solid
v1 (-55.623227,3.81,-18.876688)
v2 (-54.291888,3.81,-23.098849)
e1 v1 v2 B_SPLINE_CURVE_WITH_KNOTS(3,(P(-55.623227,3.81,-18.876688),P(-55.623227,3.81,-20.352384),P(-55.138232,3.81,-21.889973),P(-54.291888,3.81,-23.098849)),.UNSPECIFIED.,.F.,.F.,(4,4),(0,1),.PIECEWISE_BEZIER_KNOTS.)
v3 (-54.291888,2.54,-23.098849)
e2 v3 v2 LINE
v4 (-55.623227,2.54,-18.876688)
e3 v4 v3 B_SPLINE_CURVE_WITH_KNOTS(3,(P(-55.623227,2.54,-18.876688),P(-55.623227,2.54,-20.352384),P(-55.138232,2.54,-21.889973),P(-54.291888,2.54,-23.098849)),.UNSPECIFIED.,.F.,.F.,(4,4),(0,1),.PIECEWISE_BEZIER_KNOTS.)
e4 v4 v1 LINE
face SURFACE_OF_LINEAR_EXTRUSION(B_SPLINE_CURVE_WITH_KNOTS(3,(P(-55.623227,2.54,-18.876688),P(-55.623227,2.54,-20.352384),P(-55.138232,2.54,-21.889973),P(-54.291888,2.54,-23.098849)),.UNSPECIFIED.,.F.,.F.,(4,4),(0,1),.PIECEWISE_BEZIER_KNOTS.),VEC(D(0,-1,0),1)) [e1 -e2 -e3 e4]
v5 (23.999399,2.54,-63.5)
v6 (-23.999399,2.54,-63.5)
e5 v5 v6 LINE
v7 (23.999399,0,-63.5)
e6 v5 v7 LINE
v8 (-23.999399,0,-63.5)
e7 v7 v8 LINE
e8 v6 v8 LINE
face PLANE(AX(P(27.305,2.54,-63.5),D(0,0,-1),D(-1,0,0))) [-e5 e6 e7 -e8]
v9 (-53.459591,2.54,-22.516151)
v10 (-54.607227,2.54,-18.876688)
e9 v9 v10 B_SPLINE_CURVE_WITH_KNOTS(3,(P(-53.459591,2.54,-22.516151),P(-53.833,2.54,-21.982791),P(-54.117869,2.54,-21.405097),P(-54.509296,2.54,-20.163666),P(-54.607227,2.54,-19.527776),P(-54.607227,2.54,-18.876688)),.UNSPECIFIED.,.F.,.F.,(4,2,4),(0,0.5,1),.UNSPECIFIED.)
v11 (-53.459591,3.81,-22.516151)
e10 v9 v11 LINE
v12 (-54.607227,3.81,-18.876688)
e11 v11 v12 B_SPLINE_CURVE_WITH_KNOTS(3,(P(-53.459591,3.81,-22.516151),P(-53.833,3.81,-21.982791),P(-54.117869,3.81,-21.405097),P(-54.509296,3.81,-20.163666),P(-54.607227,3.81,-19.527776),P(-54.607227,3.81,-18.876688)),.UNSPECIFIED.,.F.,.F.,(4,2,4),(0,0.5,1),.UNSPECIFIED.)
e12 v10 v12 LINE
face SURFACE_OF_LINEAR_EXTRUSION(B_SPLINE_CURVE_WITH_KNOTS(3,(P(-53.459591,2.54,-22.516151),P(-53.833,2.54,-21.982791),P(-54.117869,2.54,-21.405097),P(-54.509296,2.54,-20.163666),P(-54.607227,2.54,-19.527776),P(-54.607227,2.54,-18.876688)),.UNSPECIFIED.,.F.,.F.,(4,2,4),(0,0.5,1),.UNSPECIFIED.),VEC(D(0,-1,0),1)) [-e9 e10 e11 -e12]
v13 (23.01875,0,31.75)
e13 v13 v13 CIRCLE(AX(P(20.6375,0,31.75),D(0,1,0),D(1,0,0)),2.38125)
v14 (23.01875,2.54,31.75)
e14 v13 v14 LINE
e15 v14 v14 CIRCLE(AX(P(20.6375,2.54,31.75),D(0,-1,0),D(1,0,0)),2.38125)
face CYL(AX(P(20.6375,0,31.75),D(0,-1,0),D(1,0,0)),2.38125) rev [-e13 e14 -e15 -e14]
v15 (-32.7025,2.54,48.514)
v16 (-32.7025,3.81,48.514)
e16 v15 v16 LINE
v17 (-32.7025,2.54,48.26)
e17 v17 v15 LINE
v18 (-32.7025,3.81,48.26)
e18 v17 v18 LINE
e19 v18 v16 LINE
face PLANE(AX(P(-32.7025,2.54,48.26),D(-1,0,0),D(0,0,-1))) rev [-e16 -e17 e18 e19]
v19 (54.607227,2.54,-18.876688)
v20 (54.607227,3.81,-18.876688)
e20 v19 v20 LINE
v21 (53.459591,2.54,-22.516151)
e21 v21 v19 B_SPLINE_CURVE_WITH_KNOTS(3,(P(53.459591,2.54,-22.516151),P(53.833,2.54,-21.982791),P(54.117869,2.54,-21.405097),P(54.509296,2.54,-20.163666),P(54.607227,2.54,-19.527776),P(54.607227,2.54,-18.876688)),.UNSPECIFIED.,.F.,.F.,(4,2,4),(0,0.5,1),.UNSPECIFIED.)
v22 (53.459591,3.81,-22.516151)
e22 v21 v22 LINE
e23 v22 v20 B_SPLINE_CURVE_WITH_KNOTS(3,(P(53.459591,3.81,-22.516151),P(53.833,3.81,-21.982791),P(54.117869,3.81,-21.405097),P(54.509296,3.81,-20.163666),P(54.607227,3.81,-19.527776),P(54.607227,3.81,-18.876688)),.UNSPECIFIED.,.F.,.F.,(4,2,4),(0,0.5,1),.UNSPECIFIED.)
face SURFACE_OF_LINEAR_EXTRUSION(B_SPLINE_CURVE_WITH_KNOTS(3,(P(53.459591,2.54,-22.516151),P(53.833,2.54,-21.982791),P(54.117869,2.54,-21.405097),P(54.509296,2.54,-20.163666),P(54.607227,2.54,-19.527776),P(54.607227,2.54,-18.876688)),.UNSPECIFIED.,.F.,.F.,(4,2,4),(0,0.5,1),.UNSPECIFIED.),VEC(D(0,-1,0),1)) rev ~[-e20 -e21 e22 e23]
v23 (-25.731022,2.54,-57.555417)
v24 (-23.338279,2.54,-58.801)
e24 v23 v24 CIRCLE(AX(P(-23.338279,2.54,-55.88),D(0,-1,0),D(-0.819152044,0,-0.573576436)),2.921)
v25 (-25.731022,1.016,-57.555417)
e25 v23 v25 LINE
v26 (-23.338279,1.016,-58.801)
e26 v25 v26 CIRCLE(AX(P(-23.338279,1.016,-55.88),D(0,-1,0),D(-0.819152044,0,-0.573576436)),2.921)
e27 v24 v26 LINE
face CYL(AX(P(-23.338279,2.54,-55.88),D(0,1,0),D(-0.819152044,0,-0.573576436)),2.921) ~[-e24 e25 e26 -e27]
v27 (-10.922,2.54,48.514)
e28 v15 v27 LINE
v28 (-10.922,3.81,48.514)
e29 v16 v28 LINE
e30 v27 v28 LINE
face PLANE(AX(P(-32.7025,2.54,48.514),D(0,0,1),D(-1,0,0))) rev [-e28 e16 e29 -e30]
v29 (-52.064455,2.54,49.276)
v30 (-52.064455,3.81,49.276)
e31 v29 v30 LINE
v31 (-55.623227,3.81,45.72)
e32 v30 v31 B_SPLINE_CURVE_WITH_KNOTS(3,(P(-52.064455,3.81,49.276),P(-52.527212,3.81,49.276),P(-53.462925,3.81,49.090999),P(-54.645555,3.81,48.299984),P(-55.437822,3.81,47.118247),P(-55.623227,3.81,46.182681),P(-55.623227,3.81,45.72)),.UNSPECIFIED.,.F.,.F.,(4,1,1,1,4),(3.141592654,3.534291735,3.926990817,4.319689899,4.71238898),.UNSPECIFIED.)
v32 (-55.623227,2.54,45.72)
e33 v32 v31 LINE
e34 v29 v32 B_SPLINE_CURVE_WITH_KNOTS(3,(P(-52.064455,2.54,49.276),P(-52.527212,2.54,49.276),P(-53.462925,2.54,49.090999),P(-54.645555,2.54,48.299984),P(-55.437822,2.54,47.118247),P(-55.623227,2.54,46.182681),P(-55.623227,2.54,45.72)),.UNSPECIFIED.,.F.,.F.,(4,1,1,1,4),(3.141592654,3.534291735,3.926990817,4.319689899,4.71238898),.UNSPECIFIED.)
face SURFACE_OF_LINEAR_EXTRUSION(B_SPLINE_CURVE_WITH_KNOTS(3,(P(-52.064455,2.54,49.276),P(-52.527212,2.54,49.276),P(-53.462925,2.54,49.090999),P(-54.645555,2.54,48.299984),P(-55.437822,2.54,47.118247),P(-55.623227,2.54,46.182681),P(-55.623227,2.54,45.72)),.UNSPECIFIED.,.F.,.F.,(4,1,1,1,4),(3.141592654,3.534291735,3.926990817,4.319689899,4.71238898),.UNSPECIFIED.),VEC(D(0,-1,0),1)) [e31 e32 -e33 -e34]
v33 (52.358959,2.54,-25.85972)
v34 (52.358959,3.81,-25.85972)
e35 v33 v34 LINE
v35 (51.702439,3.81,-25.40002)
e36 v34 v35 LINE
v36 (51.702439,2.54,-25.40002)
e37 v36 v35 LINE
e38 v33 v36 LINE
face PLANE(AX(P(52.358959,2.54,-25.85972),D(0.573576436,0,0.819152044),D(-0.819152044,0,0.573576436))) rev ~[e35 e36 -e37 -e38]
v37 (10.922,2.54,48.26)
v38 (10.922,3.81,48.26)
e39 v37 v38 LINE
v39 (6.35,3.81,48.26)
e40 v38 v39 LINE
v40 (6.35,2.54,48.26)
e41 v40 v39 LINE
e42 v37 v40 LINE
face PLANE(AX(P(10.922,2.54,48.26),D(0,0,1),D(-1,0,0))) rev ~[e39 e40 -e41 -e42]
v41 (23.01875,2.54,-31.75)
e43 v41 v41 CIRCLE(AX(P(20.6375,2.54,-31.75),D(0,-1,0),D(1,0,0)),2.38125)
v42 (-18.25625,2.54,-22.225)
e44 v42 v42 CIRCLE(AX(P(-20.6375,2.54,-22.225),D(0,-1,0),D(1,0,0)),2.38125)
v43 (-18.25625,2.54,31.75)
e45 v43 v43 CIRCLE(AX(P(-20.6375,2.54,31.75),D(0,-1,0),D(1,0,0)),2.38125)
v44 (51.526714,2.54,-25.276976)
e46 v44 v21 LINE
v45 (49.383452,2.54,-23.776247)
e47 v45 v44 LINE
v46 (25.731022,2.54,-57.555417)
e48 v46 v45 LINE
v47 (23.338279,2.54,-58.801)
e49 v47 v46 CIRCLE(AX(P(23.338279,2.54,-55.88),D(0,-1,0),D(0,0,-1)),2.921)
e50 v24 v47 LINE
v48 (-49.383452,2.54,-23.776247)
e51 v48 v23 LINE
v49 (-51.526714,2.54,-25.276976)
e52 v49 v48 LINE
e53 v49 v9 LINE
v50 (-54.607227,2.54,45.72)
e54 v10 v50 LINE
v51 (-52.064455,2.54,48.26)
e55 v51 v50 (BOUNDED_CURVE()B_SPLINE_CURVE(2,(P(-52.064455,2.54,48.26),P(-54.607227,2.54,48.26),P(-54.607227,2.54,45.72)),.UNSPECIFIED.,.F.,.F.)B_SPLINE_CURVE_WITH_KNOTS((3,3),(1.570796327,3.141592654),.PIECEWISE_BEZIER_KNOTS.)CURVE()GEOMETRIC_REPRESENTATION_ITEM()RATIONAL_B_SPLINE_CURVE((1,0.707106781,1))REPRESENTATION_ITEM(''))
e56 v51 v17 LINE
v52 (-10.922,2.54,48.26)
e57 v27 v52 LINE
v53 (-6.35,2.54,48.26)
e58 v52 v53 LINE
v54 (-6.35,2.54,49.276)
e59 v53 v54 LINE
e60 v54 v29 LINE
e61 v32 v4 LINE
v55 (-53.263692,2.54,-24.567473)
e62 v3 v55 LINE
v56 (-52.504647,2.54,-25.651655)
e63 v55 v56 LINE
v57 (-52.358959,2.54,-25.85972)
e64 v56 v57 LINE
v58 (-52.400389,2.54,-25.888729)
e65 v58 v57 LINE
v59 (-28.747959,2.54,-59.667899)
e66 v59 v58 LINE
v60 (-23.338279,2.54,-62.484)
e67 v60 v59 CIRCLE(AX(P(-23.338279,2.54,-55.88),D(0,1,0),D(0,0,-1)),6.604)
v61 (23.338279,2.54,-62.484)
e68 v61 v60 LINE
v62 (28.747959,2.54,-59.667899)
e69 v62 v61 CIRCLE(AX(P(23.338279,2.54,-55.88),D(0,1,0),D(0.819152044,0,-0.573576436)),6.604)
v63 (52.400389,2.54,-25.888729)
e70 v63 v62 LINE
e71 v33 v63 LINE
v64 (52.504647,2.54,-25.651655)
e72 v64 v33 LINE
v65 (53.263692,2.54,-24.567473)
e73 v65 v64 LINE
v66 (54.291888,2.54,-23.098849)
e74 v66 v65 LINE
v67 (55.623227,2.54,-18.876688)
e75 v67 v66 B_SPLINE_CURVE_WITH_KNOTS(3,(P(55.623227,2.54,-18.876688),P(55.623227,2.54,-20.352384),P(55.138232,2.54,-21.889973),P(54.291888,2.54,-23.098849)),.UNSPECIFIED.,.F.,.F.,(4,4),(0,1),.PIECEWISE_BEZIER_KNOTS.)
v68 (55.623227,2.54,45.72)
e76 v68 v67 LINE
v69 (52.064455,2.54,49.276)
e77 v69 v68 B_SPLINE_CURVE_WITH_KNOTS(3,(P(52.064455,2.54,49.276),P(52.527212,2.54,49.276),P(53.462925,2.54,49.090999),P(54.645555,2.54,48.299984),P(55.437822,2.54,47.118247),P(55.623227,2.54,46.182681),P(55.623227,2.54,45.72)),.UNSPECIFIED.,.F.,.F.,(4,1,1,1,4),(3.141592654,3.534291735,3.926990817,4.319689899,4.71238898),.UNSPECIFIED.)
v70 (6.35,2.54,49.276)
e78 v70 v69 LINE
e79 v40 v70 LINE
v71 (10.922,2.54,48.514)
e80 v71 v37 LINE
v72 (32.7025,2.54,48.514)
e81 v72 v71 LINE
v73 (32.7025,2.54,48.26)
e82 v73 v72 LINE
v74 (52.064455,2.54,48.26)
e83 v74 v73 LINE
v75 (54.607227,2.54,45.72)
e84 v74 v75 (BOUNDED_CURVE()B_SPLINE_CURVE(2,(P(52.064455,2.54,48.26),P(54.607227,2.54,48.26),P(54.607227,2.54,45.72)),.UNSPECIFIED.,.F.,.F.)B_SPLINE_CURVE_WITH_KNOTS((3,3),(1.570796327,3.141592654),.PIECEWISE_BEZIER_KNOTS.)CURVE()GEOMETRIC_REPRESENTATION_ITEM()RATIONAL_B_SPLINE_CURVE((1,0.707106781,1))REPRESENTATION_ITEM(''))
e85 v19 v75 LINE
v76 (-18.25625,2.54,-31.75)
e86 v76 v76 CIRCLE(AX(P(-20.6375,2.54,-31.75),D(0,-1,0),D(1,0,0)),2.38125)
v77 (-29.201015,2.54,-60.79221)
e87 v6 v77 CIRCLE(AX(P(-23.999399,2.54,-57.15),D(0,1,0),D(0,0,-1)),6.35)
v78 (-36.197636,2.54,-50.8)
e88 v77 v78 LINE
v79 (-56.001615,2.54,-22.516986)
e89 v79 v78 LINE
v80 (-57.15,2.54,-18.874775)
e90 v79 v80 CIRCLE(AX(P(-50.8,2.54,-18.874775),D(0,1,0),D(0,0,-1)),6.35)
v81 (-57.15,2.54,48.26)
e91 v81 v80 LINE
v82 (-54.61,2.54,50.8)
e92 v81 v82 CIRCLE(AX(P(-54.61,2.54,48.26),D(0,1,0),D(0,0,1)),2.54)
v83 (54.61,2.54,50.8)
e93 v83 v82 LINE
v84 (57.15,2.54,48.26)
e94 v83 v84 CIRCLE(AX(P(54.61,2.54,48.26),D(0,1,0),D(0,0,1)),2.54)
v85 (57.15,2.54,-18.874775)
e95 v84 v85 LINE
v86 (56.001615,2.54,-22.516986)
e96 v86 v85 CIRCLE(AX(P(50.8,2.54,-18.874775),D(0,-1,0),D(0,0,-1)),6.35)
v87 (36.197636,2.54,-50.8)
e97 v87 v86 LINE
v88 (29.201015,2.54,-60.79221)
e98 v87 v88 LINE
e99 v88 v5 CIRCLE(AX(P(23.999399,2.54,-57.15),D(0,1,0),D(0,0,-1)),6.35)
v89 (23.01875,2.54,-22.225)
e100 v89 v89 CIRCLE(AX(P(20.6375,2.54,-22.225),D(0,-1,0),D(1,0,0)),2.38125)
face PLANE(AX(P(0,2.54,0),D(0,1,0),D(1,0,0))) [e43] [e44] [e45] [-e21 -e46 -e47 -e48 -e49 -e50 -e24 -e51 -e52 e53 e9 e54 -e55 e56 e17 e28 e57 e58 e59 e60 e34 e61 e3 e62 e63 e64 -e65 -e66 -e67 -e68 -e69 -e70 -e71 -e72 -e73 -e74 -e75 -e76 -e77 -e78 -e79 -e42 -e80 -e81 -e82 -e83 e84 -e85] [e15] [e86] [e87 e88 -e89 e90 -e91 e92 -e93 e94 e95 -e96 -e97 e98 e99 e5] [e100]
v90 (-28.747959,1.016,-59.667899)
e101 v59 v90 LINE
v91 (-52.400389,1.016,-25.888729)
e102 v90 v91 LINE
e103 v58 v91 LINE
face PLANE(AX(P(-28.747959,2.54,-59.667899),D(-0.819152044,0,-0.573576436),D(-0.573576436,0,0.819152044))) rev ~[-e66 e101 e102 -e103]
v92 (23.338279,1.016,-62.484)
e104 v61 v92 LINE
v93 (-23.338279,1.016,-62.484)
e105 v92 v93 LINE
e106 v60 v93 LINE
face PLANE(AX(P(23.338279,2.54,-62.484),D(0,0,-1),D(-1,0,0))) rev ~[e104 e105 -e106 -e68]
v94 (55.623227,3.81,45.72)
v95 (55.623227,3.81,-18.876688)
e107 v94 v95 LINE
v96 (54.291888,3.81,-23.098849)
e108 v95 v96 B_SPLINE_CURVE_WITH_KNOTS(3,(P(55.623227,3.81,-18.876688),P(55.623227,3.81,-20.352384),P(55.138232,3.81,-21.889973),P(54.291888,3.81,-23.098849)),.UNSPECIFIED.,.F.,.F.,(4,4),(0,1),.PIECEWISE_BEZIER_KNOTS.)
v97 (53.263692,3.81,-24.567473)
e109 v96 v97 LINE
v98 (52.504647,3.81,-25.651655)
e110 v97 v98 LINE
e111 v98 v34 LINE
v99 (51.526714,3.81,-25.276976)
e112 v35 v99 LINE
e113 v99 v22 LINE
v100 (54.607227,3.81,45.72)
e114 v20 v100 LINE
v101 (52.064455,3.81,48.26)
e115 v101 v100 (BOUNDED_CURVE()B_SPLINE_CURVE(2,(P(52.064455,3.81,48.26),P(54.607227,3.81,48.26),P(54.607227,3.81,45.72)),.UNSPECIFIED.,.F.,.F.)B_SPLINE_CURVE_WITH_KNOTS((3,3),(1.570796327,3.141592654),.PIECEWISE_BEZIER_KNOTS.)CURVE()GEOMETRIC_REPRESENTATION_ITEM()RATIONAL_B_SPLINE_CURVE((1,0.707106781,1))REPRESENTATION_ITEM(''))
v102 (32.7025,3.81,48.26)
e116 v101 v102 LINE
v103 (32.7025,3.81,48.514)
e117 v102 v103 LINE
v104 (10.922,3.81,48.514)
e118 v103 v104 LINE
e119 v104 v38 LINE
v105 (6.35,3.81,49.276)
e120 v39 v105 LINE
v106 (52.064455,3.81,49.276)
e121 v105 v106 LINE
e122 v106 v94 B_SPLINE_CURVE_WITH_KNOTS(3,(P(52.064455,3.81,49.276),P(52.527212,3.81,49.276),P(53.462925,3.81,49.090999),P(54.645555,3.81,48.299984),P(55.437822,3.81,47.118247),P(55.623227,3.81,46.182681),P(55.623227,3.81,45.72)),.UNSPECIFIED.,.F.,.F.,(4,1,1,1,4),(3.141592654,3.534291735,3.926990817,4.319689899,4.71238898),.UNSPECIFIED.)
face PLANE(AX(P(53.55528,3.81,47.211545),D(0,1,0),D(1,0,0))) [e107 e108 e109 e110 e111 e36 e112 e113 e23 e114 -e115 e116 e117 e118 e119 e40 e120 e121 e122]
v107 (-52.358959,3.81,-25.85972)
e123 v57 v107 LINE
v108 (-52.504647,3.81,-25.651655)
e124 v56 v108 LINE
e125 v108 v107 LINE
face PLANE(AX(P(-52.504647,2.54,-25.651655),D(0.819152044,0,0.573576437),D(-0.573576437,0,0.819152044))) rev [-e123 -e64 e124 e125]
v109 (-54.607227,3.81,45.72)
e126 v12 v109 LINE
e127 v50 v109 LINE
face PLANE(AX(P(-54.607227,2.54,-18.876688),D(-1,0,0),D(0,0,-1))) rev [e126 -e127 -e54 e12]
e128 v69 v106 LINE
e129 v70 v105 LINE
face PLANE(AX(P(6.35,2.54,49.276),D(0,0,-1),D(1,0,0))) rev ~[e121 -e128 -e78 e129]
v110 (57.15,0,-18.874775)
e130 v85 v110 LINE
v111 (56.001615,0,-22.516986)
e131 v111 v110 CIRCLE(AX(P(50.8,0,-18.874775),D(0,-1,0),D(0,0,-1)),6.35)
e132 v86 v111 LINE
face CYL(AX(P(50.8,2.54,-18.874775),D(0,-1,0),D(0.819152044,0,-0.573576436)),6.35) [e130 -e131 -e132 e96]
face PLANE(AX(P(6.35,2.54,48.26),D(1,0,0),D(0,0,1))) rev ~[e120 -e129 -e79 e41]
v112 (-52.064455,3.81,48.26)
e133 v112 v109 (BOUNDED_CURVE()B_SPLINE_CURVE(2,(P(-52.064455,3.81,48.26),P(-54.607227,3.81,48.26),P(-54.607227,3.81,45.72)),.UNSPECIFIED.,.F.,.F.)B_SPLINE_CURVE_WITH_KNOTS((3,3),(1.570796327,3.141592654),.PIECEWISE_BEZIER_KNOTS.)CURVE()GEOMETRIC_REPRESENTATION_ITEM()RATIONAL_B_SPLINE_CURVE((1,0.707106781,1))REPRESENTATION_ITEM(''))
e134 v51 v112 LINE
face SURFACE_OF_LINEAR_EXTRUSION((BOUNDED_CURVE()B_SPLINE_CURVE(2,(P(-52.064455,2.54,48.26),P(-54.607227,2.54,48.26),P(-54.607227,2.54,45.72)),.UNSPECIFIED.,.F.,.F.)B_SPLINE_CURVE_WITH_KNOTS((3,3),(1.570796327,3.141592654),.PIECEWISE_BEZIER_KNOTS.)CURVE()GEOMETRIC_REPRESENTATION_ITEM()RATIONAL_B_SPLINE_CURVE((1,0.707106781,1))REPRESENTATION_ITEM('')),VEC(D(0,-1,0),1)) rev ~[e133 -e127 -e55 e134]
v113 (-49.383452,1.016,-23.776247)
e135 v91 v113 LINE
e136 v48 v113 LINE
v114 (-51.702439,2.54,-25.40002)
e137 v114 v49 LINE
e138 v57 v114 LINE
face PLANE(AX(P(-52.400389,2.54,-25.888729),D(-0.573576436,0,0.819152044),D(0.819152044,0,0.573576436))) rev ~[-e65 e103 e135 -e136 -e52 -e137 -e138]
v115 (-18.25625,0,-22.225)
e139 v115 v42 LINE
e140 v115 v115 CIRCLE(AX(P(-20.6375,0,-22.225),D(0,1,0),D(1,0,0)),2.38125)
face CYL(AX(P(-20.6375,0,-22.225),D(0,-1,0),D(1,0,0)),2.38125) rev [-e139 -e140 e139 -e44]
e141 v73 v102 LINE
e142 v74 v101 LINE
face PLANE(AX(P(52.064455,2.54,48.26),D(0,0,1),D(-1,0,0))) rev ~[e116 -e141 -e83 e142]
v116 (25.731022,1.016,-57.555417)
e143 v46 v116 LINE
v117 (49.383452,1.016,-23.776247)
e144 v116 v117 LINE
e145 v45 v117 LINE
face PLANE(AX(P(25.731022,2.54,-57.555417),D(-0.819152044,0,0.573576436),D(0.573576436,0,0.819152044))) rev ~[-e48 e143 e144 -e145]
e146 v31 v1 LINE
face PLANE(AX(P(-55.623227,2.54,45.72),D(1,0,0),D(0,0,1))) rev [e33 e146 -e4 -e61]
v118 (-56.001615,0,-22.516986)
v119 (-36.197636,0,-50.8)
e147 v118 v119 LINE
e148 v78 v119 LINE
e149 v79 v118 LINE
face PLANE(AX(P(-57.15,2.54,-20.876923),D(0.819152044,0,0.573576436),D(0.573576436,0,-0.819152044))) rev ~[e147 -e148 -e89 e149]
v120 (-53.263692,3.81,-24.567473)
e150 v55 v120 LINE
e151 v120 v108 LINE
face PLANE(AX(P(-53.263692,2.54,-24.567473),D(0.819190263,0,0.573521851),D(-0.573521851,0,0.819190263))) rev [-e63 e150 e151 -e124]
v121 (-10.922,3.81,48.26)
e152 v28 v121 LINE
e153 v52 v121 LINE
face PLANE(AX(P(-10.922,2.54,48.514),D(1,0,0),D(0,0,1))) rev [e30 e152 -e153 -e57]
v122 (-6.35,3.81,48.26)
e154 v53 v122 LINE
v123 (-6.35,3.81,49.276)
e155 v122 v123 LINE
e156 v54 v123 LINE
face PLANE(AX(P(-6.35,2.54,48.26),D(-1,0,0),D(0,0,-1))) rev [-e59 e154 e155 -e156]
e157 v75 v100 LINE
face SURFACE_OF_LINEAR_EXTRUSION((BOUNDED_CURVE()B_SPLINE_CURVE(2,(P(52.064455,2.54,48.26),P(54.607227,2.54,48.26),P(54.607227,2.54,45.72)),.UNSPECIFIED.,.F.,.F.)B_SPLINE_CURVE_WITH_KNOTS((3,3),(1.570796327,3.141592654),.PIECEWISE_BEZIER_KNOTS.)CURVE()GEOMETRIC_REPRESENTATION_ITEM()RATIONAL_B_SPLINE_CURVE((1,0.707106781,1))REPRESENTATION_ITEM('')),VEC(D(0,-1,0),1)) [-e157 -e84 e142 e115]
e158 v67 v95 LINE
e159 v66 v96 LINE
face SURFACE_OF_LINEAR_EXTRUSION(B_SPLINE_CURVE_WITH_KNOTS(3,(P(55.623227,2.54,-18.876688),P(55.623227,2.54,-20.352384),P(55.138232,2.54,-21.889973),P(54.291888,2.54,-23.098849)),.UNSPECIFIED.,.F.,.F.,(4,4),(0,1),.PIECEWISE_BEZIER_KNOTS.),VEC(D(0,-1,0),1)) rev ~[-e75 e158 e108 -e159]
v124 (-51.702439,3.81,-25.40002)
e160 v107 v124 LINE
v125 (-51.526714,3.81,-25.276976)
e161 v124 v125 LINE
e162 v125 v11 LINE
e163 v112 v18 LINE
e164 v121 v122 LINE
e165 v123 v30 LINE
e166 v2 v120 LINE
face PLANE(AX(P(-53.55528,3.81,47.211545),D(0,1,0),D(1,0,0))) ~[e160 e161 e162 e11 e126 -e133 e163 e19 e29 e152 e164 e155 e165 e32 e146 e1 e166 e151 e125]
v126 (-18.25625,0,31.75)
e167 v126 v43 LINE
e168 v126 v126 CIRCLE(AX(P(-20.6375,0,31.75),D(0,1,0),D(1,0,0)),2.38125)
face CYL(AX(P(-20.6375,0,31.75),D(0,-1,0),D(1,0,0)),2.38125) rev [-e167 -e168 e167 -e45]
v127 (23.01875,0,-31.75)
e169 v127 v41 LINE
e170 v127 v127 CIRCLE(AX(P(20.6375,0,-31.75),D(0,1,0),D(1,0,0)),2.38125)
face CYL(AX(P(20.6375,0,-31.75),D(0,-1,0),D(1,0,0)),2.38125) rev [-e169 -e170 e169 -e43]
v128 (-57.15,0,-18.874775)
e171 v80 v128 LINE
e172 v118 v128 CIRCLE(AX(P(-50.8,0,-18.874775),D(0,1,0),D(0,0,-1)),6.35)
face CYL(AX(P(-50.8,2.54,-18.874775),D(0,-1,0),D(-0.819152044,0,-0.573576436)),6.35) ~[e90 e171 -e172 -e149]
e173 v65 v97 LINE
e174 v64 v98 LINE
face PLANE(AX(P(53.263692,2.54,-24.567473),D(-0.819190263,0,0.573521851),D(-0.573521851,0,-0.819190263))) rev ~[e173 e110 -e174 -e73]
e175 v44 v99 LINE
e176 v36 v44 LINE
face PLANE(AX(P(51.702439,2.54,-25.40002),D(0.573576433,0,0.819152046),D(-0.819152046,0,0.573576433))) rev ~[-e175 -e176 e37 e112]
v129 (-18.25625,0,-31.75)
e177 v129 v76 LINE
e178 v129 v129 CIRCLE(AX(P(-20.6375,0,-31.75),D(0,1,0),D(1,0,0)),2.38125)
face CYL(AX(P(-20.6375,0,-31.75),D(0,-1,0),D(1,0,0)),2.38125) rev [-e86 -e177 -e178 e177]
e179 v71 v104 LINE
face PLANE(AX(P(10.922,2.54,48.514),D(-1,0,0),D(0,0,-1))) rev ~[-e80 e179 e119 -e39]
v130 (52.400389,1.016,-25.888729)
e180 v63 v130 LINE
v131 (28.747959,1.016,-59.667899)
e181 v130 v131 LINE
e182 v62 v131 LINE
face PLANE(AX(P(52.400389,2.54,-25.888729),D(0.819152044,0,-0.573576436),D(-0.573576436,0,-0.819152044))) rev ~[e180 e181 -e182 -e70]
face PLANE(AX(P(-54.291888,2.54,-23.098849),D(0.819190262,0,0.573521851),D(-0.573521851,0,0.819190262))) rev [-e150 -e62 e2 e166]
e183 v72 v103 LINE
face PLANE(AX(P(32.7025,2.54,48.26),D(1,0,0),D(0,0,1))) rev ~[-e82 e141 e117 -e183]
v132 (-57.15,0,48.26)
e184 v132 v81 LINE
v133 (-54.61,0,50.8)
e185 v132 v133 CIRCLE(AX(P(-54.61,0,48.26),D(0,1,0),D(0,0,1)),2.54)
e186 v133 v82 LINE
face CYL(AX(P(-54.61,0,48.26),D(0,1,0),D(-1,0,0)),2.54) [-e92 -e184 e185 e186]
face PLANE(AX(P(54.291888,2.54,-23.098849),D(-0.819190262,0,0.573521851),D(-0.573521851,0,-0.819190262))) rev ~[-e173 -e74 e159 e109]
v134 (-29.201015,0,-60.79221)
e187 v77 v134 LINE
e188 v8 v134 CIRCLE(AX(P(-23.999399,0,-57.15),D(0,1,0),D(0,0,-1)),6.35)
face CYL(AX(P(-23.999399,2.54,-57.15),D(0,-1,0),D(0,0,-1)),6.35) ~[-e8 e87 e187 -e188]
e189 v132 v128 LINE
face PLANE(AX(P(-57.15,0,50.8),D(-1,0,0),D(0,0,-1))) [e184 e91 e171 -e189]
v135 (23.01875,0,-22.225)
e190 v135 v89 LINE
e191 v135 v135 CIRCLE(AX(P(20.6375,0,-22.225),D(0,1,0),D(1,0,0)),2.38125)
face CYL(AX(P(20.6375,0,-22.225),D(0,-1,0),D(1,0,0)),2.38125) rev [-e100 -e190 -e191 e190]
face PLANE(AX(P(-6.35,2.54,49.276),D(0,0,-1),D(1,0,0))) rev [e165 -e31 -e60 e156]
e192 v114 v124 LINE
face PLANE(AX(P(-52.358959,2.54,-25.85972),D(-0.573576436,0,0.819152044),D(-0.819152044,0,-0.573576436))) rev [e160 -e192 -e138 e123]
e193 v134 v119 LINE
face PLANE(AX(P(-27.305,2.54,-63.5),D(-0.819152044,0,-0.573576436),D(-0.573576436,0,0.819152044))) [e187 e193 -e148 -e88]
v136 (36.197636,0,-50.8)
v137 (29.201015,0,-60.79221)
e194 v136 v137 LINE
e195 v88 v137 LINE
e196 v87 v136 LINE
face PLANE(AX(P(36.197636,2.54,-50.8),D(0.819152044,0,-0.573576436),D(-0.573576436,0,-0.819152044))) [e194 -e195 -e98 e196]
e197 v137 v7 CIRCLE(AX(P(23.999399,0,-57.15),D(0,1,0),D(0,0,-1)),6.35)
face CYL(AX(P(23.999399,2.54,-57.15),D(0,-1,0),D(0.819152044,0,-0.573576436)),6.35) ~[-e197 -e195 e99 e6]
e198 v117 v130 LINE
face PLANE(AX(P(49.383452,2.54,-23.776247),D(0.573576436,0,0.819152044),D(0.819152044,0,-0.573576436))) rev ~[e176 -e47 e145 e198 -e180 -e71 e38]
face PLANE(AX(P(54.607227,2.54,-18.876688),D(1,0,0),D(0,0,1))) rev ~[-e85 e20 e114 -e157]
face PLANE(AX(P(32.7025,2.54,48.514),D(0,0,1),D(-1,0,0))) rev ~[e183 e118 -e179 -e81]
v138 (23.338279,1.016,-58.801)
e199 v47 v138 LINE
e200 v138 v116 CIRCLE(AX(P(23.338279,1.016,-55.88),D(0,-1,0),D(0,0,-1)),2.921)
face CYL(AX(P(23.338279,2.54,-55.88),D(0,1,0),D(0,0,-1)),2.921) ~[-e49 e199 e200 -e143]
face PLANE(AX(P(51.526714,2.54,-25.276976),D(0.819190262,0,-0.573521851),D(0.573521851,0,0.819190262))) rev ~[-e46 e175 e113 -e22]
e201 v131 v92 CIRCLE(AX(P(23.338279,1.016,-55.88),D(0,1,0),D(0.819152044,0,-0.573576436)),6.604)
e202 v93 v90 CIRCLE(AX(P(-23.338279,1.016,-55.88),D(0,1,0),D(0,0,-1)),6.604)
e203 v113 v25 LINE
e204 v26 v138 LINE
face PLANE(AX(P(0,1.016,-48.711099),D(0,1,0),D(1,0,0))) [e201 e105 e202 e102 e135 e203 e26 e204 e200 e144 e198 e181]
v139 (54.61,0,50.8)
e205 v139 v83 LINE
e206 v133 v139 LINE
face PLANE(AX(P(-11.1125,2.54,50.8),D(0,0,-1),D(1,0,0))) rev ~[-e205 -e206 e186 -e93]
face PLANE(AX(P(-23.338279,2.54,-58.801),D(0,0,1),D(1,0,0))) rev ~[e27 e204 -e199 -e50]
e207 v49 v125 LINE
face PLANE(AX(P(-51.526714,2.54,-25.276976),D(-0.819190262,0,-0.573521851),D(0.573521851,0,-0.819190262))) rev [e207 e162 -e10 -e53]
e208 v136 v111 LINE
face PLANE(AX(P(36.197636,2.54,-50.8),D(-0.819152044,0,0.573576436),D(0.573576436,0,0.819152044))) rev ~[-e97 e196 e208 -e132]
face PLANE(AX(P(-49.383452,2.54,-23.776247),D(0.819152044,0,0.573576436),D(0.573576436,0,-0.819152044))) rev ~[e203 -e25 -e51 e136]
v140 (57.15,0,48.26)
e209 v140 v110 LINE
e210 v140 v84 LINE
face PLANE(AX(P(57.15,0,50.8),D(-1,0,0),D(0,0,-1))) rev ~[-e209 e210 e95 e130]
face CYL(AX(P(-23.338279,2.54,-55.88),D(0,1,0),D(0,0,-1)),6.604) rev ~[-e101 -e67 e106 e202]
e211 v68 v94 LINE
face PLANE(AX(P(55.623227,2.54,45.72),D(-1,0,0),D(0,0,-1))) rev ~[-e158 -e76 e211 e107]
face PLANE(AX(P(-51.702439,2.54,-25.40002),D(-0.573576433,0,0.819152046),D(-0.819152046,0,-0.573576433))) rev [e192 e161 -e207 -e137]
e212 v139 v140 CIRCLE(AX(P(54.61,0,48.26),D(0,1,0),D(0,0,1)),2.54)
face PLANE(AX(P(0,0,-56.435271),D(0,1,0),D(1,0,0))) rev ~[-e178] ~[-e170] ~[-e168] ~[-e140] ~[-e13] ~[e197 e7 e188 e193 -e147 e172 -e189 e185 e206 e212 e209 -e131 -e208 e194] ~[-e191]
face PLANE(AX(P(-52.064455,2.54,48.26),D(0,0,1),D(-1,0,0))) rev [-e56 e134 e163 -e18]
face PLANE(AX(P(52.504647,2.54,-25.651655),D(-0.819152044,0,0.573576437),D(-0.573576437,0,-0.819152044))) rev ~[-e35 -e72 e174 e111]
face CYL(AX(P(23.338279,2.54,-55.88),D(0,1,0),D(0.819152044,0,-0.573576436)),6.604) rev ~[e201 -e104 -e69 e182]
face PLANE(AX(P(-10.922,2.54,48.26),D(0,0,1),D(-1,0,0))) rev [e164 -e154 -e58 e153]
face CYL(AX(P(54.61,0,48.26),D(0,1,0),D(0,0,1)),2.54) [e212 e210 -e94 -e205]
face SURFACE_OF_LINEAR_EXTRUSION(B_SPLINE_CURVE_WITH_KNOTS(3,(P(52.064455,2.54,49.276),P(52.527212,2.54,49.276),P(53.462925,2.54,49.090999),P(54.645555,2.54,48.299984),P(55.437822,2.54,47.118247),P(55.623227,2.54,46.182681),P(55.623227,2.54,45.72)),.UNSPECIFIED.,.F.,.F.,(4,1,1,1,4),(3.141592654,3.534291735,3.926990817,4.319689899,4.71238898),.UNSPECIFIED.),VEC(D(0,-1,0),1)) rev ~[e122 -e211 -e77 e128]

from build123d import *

# Parameters (mm, degrees)
SKETCH2_W               = 114.3
SKETCH2_H               = 101.6
BOSS_EXTRUDE1_DEPTH     = 2.54
SKETCH3_W               = 19.05
SKETCH3_H               = 38.1
BOSS_EXTRUDE2_DEPTH     = 2.54
TRUCKMOUNTINGHOLES_R    = 2.38125
CUT_EXTRUDE1_DEPTH      = 6.08
FILLET1_R               = 2.54
CUT_EXTRUDE3_DEPTH      = 3.54
CUT_EXTRUDE3_DEPTH_BACK = 3.54
BOSS_EXTRUDE3_DEPTH     = 2.54
CUT_EXTRUDE4_DEPTH      = 1.524
FILLET2_R               = 6.35
SKETCH8_W               = 22.225
SKETCH8_H               = 2.54
BOSS_EXTRUDE4_DEPTH     = 2.54
CUT_EXTRUDE5_DEPTH      = 2.54
SKETCH10_W              = 60.325
SKETCH10_H              = 101.6
CUT_EXTRUDE6_DEPTH      = 2.54
BOSS_EXTRUDE5_DEPTH     = 1.27


with BuildPart() as part:
    # Sketch2 → Boss-Extrude1 (new body)
    with BuildSketch(Plane(origin=(0, 0, 0), x_dir=(1, 0, 0), z_dir=(0, 1, 0))):
        Rectangle(SKETCH2_W, SKETCH2_H)
    extrude(amount=BOSS_EXTRUDE1_DEPTH)

    # Sketch3 → Boss-Extrude2 (add)
    with BuildSketch(Plane(origin=(0, 2.54, 0), x_dir=(1, 0, 0), z_dir=(0, 1, 0))):
        with Locations((-20.6375, -31.75)):
            Rectangle(SKETCH3_W, SKETCH3_H)
        with Locations((20.6375, -31.75)):
            Rectangle(SKETCH3_W, SKETCH3_H)
        Polygon((-30.1625, 41.705647627), (-30.1625, 12.7), (-11.1125, 12.7), (-11.1125, 50.8), (-23.794565913, 50.8), align=None)
        Polygon((11.1125, 50.8), (11.1125, 12.7), (30.1625, 12.7), (30.1625, 41.705647627), (23.794565913, 50.8), align=None)
    extrude(amount=BOSS_EXTRUDE2_DEPTH)

    # TruckMountingHoles → Cut-Extrude1 (cut, through all)
    with BuildSketch(Plane(origin=(0, 0, 0), x_dir=(1, 0, 0), z_dir=(0, 1, 0))):
        with Locations((-20.6375, 22.225)):
            Circle(TRUCKMOUNTINGHOLES_R)
        with Locations((-20.6375, 31.75)):
            Circle(TRUCKMOUNTINGHOLES_R)
        with Locations((20.6375, 31.75)):
            Circle(TRUCKMOUNTINGHOLES_R)
        with Locations((20.6375, 22.225)):
            Circle(TRUCKMOUNTINGHOLES_R)
        with Locations((20.6375, -31.75)):
            Circle(TRUCKMOUNTINGHOLES_R)
        with Locations((-20.6375, -31.75)):
            Circle(TRUCKMOUNTINGHOLES_R)
    extrude(amount=CUT_EXTRUDE1_DEPTH, mode=Mode.SUBTRACT)

    # Fillet1
    fillet1_edges = [part.edges().sort_by_distance(p)[0] for p in [
        (57.15, 1.27, 50.8),
        (-57.15, 1.27, 50.8),
        (-57.15, 1.27, -50.8),
        (57.15, 1.27, -50.8),
    ]]
    fillet(fillet1_edges, radius=FILLET1_R)

    # Sketch5 → Cut-Extrude3 (cut, two sides)
    with BuildSketch(Plane(origin=(0, 2.54, 0), x_dir=(1, 0, 0), z_dir=(0, 1, 0))) as cut_extrude3_sk:
        with BuildLine():
            Line((54.61, 50.8), (36.197635735, 50.8))
            Line((36.197635735, 50.8), (57.15, 20.876922739))
            Line((57.15, 20.876922739), (57.15, 48.26))
            ThreePointArc((57.15, 48.26), (56.406051224, 50.056051224), (54.61, 50.8))
        make_face()
        with BuildLine():
            Line((-57.15, 20.876922739), (-36.197635735, 50.8))
            Line((-36.197635735, 50.8), (-54.61, 50.8))
            ThreePointArc((-54.61, 50.8), (-56.406051224, 50.056051224), (-57.15, 48.26))
            Line((-57.15, 48.26), (-57.15, 20.876922739))
        make_face()
    extrude(amount=CUT_EXTRUDE3_DEPTH, mode=Mode.SUBTRACT)
    extrude(cut_extrude3_sk.sketch, amount=-CUT_EXTRUDE3_DEPTH_BACK, mode=Mode.SUBTRACT)

    # Sketch5<5> → Boss-Extrude3 (add)
    with BuildSketch(Plane(origin=(0, 2.54, 0), x_dir=(1, 0, 0), z_dir=(0, 1, 0))):
        Polygon((36.197635735, 50.8), (27.305, 63.5), (-27.305, 63.5), (-36.197635735, 50.8), (-25.500724295, 50.8), (-23.794565913, 50.8), (-11.1125, 50.8), (11.1125, 50.8), (23.794565913, 50.8), align=None)
    extrude(amount=-BOSS_EXTRUDE3_DEPTH)

    # Sketch6 → Cut-Extrude4 (cut)
    with BuildSketch(Plane(origin=(0, 2.54, 0), x_dir=(1, 0, 0), z_dir=(0, 1, 0))):
        with BuildLine():
            Line((49.383451528, 23.776246966), (52.400388507, 25.888728981))
            Line((52.400388507, 25.888728981), (28.747959175, 59.667898786))
            ThreePointArc((28.747959175, 59.667898786), (26.387666917, 61.737819542), (23.338279075, 62.484))
            Line((23.338279075, 62.484), (-23.338279075, 62.484))
            ThreePointArc((-23.338279075, 62.484), (-26.387666917, 61.737819542), (-28.747959175, 59.667898786))
            Line((-28.747959175, 59.667898786), (-52.400388507, 25.888728981))
            Line((-52.400388507, 25.888728981), (-49.383451528, 23.776246966))
            Line((-49.383451528, 23.776246966), (-25.731022196, 57.555416771))
            ThreePointArc((-25.731022196, 57.555416771), (-24.687046774, 58.470958644), (-23.338279075, 58.801))
            Line((-23.338279075, 58.801), (23.338279075, 58.801))
            ThreePointArc((23.338279075, 58.801), (24.687046774, 58.470958644), (25.731022196, 57.555416771))
            Line((25.731022196, 57.555416771), (49.383451528, 23.776246966))
        make_face()
    extrude(amount=-CUT_EXTRUDE4_DEPTH, mode=Mode.SUBTRACT)

    # Fillet2
    fillet2_edges = [part.edges().sort_by_distance(p)[0] for p in [
        (57.15, 1.27, -20.876922739),
        (-57.15, 1.27, -20.876922739),
        (-27.305, 1.27, -63.5),
        (27.305, 1.27, -63.5),
    ]]
    fillet(fillet2_edges, radius=FILLET2_R)

    # Sketch8 → Boss-Extrude4 (add)
    with BuildSketch(Plane(origin=(0, 2.54, 0), x_dir=(1, 0, 0), z_dir=(0, 1, 0))):
        with Locations((0, -49.53)):
            Rectangle(SKETCH8_W, SKETCH8_H)
    extrude(amount=BOSS_EXTRUDE4_DEPTH)

    # Sketch9 → Cut-Extrude5 (cut)
    with BuildSketch(Plane.XY.offset(50.8)):
        with BuildLine():
            Line((6.346056871, 5.08), (-6.346056871, 5.08))
            ThreePointArc((-6.346056871, 5.08), (-5.941945474, 4.247288898), (-5.08, 3.91))
            Line((-5.08, 3.91), (5.08, 3.91))
            ThreePointArc((5.08, 3.91), (5.941945474, 4.247288898), (6.346056871, 5.08))
        make_face()
    extrude(amount=-CUT_EXTRUDE5_DEPTH, mode=Mode.SUBTRACT)

    # Sketch10 → Cut-Extrude6 (cut)
    with BuildSketch(Plane(origin=(0, 5.08, 0), x_dir=(1, 0, 0), z_dir=(0, 1, 0))):
        Rectangle(SKETCH10_W, SKETCH10_H)
    extrude(amount=-CUT_EXTRUDE6_DEPTH, mode=Mode.SUBTRACT)

    # Sketch11 → Boss-Extrude5 (add)
    with BuildSketch(Plane(origin=(0, 2.54, 0), x_dir=(1, 0, 0), z_dir=(0, 1, 0))):
        with BuildLine():
            add(Edge.make_bspline(
                [(52.064454926, -49.276), (52.527212299, -49.276), (53.462925017, -49.090999134), (54.645555287, -48.299984177), (55.437822336, -47.118247374), (55.623227463, -46.182681141), (55.623227463, -45.72)],
                knots=[3.141592654, 3.141592654, 3.141592654, 3.141592654, 3.534291735, 3.926990817, 4.319689899, 4.71238898, 4.71238898, 4.71238898, 4.71238898], degree=3))
            Line((55.623227463, -45.72), (55.623227463, -44.409940581))
            add(Edge.make_bspline(
                [(55.623227463, -44.409940581), (55.455682863, -44.009381364), (55.203452495, -43.645913792), (54.861227463, -43.351588173)],
                knots=[5.070956634, 5.070956634, 5.070956634, 5.070956634, 5.421823055, 5.421823055, 5.421823055, 5.421823055], degree=3))
            Line((54.861227463, -43.351588173), (54.861227463, -45.72))
            add(Edge.make_bspline(
                [(54.861227463, -45.72), (54.861227463, -46.432957974), (54.264419916, -47.918029594), (52.777827726, -48.514), (52.064454926, -48.514)],
                knots=[1.570796327, 1.570796327, 1.570796327, 1.570796327, 2.35619449, 3.141592654, 3.141592654, 3.141592654, 3.141592654], degree=3))
            Line((52.064454926, -48.514), (49.69227773, -48.514))
            add(Edge.make_bspline(
                [(49.69227773, -48.514), (49.98720822, -48.856186046), (50.351337017, -49.108435697), (50.752582292, -49.276)],
                knots=[2.431141263, 2.431141263, 2.431141263, 2.431141263, 2.78255448, 2.78255448, 2.78255448, 2.78255448], degree=3))
            Line((50.752582292, -49.276), (52.064454926, -49.276))
        make_face()
        with BuildLine():
            add(Edge.make_bspline(
                [(55.623227463, -44.409940581), (55.455682863, -44.009381364), (55.203452495, -43.645913792), (54.861227463, -43.351588173)],
                knots=[5.070956634, 5.070956634, 5.070956634, 5.070956634, 5.421823055, 5.421823055, 5.421823055, 5.421823055], degree=3))
            Line((55.623227463, -44.409940581), (55.623227463, -34.698805774))
            Line((55.623227463, -34.698805774), (55.623227463, 17.084765836))
            add(Edge.make_bspline(
                [(54.861227463, 15.559588906), (55.205040884, 16.01706212), (55.456487689, 16.533521145), (55.623227463, 17.084765836)],
                knots=[-0.795165299, -0.795165299, -0.795165299, -0.795165299, -0.40392164, -0.40392164, -0.40392164, -0.40392164], degree=3))
            Line((54.861227463, 15.559588906), (54.861227463, -35.534958582))
            Line((54.861227463, -35.534958582), (54.861227463, -43.351588173))
        make_face()
        with BuildLine():
            Line((54.607227463, -35.821330198), (54.607227463, -43.157480027))
            add(Edge.make_bspline(
                [(54.861227463, -43.351588173), (54.781471113, -43.282994893), (54.696826846, -43.218156948), (54.607227463, -43.157480027)],
                knots=[5.421823055, 5.421823055, 5.421823055, 5.421823055, 5.503593302, 5.503593302, 5.503593302, 5.503593302], degree=3))
            Line((54.861227463, -43.351588173), (54.861227463, -35.534958582))
            Line((54.861227463, -35.534958582), (54.861227463, 15.559588906))
            add(Edge.make_bspline(
                [(54.607227463, 15.251351548), (54.69691799, 15.350728874), (54.781552882, 15.453575049), (54.861227463, 15.559588906)],
                knots=[-0.885831261, -0.885831261, -0.885831261, -0.885831261, -0.795165299, -0.795165299, -0.795165299, -0.795165299], degree=3))
            Line((54.607227463, 15.251351548), (54.607227463, -35.821330198))
        make_face()
        with BuildLine():
            add(Edge.make_bspline(
                [(54.861227463, -43.351588173), (54.781471113, -43.282994893), (54.696826846, -43.218156948), (54.607227463, -43.157480027)],
                knots=[5.421823055, 5.421823055, 5.421823055, 5.421823055, 5.503593302, 5.503593302, 5.503593302, 5.503593302], degree=3))
            Line((54.607227463, -43.157480027), (54.607227463, -45.72))
            add(Edge.make_bspline(
                [(52.064454926, -48.26), (54.607227463, -48.26), (54.607227463, -45.72)],
                knots=[1.570796327, 1.570796327, 1.570796327, 3.141592654, 3.141592654, 3.141592654], degree=2, weights=[1, 0.707106781, 1]))
            Line((52.064454926, -48.26), (49.497730822, -48.26))
            add(Edge.make_bspline(
                [(49.497730822, -48.26), (49.558549509, -48.349597111), (49.623533898, -48.434241613), (49.69227773, -48.514)],
                knots=[2.349232162, 2.349232162, 2.349232162, 2.349232162, 2.431141263, 2.431141263, 2.431141263, 2.431141263], degree=3))
            Line((49.69227773, -48.514), (52.064454926, -48.514))
            add(Edge.make_bspline(
                [(54.861227463, -45.72), (54.861227463, -46.432957974), (54.264419916, -47.918029594), (52.777827726, -48.514), (52.064454926, -48.514)],
                knots=[1.570796327, 1.570796327, 1.570796327, 1.570796327, 2.35619449, 3.141592654, 3.141592654, 3.141592654, 3.141592654], degree=3))
            Line((54.861227463, -45.72), (54.861227463, -43.351588173))
        make_face()
        with BuildLine():
            Line((41.039104509, -49.276), (50.752582292, -49.276))
            add(Edge.make_bspline(
                [(49.69227773, -48.514), (49.98720822, -48.856186046), (50.351337017, -49.108435697), (50.752582292, -49.276)],
                knots=[2.431141263, 2.431141263, 2.431141263, 2.431141263, 2.78255448, 2.78255448, 2.78255448, 2.78255448], degree=3))
            Line((49.69227773, -48.514), (41.877400806, -48.514))
            Line((41.877400806, -48.514), (32.7025, -48.514))
            Line((32.7025, -48.514), (27.86827623, -48.514))
            add(Edge.make_bspline(
                [(27.86827623, -48.514), (27.846578806, -48.767183697), (27.82498302, -49.021182908), (27.803489623, -49.276)],
                knots=[6.367915657, 6.367915657, 6.367915657, 6.367915657, 6.385943787, 6.385943787, 6.385943787, 6.385943787], degree=3))
            Line((27.803489623, -49.276), (32.7025, -49.276))
            Line((32.7025, -49.276), (41.039104509, -49.276))
        make_face()
        with BuildLine():
            add(Edge.make_bspline(
                [(54.861227463, 15.559588906), (55.205040884, 16.01706212), (55.456487689, 16.533521145), (55.623227463, 17.084765836)],
                knots=[-0.795165299, -0.795165299, -0.795165299, -0.795165299, -0.40392164, -0.40392164, -0.40392164, -0.40392164], degree=3))
            Line((55.623227463, 17.084765836), (55.623227463, 18.876688069))
            add(Edge.make_bspline(
                [(55.623227463, 18.876688069), (55.623227463, 20.352383987), (55.138231725, 21.889973031), (54.29188787, 23.098848758)],
                knots=[0, 0, 0, 0, 1, 1, 1, 1], degree=3))
            Line((54.29188787, 23.098848758), (53.263692187, 24.567472646))
            add(Edge.make_bspline(
                [(53.263692187, 24.567472646), (52.876307698, 24.87211251), (52.452799222, 25.12030497), (51.997969643, 25.296875514)],
                knots=[1.404144693, 1.404144693, 1.404144693, 1.404144693, 1.739017276, 1.739017276, 1.739017276, 1.739017276], degree=3))
            Line((51.997969643, 25.296875514), (51.880453354, 25.214589722))
            Line((51.880453354, 25.214589722), (53.66766489, 22.661825108))
            add(Edge.make_bspline(
                [(53.66766489, 22.661825108), (54.426407639, 21.578074471), (54.861227463, 20.199641583), (54.861227463, 18.876688069)],
                knots=[0, 0, 0, 0, 1, 1, 1, 1], degree=3))
            Line((54.861227463, 18.876688069), (54.861227463, 15.559588906))
        make_face()
        with BuildLine():
            Line((41.877400806, -48.514), (49.69227773, -48.514))
            add(Edge.make_bspline(
                [(49.497730822, -48.26), (49.558549509, -48.349597111), (49.623533898, -48.434241613), (49.69227773, -48.514)],
                knots=[2.349232162, 2.349232162, 2.349232162, 2.349232162, 2.431141263, 2.431141263, 2.431141263, 2.431141263], degree=3))
            Line((49.497730822, -48.26), (42.164507917, -48.26))
            Line((42.164507917, -48.26), (32.7025, -48.26))
            Line((32.7025, -48.26), (32.7025, -48.514))
            Line((32.7025, -48.514), (41.877400806, -48.514))
        make_face()
        with BuildLine():
            add(Edge.make_bspline(
                [(54.607227463, 15.251351548), (54.69691799, 15.350728874), (54.781552882, 15.453575049), (54.861227463, 15.559588906)],
                knots=[-0.885831261, -0.885831261, -0.885831261, -0.885831261, -0.795165299, -0.795165299, -0.795165299, -0.795165299], degree=3))
            Line((54.861227463, 15.559588906), (54.861227463, 18.876688069))
            add(Edge.make_bspline(
                [(53.66766489, 22.661825108), (54.426407639, 21.578074471), (54.861227463, 20.199641583), (54.861227463, 18.876688069)],
                knots=[0, 0, 0, 0, 1, 1, 1, 1], degree=3))
            Line((53.66766489, 22.661825108), (51.880453354, 25.214589722))
            Line((51.880453354, 25.214589722), (51.997969643, 25.296875514))
            add(Edge.make_bspline(
                [(51.997969643, 25.296875514), (51.900871398, 25.33457027), (51.802345698, 25.369000867), (51.702439272, 25.400019665)],
                knots=[1.739017276, 1.739017276, 1.739017276, 1.739017276, 1.810506779, 1.810506779, 1.810506779, 1.810506779], degree=3))
            Line((51.702439272, 25.400019665), (51.526714183, 25.276975634))
            Line((51.526714183, 25.276975634), (53.459590563, 22.516150558))
            add(Edge.make_bspline(
                [(53.459590563, 22.516150558), (53.833000013, 21.982790957), (54.11786933, 21.405096809), (54.50929647, 20.163665719), (54.607227463, 19.527775664), (54.607227463, 18.876688069)],
                knots=[0, 0, 0, 0, 0.5, 0.5, 1, 1, 1, 1], degree=3))
            Line((54.607227463, 18.876688069), (54.607227463, 15.251351548))
        make_face()
        with BuildLine():
            Line((6.604, -49.276), (27.803489623, -49.276))
            add(Edge.make_bspline(
                [(27.86827623, -48.514), (27.846578806, -48.767183697), (27.82498302, -49.021182908), (27.803489623, -49.276)],
                knots=[6.367915657, 6.367915657, 6.367915657, 6.367915657, 6.385943787, 6.385943787, 6.385943787, 6.385943787], degree=3))
            Line((27.86827623, -48.514), (10.922, -48.514))
            Line((10.922, -48.514), (6.604, -48.514))
            Line((6.604, -48.514), (6.604, -49.276))
        make_face()
        with BuildLine():
            add(Edge.make_bspline(
                [(53.263692187, 24.567472646), (52.876307698, 24.87211251), (52.452799222, 25.12030497), (51.997969643, 25.296875514)],
                knots=[1.404144693, 1.404144693, 1.404144693, 1.404144693, 1.739017276, 1.739017276, 1.739017276, 1.739017276], degree=3))
            Line((53.263692187, 24.567472646), (52.504647213, 25.651654967))
            Line((52.504647213, 25.651654967), (51.997969643, 25.296875514))
        make_face()
        Polygon((6.35, -49.276), (6.604, -49.276), (6.604, -48.514), (10.922, -48.514), (10.922, -48.26), (6.35, -48.26), align=None)
        with BuildLine():
            Line((51.997969643, 25.296875514), (52.504647213, 25.651654967))
            Line((52.504647213, 25.651654967), (52.358958798, 25.859719586))
            Line((52.358958798, 25.859719586), (51.702439272, 25.400019665))
            add(Edge.make_bspline(
                [(51.997969643, 25.296875514), (51.900871398, 25.33457027), (51.802345698, 25.369000867), (51.702439272, 25.400019665)],
                knots=[1.739017276, 1.739017276, 1.739017276, 1.739017276, 1.810506779, 1.810506779, 1.810506779, 1.810506779], degree=3))
        make_face()
    boss_extrude5 = extrude(amount=BOSS_EXTRUDE5_DEPTH)

    # Mirror1: Boss-Extrude5 across plane
    add(boss_extrude5.mirror(Plane(origin=(0, 0, 0), x_dir=(0, 0, 1), z_dir=(1, 0, 0))))


solid = part.part
